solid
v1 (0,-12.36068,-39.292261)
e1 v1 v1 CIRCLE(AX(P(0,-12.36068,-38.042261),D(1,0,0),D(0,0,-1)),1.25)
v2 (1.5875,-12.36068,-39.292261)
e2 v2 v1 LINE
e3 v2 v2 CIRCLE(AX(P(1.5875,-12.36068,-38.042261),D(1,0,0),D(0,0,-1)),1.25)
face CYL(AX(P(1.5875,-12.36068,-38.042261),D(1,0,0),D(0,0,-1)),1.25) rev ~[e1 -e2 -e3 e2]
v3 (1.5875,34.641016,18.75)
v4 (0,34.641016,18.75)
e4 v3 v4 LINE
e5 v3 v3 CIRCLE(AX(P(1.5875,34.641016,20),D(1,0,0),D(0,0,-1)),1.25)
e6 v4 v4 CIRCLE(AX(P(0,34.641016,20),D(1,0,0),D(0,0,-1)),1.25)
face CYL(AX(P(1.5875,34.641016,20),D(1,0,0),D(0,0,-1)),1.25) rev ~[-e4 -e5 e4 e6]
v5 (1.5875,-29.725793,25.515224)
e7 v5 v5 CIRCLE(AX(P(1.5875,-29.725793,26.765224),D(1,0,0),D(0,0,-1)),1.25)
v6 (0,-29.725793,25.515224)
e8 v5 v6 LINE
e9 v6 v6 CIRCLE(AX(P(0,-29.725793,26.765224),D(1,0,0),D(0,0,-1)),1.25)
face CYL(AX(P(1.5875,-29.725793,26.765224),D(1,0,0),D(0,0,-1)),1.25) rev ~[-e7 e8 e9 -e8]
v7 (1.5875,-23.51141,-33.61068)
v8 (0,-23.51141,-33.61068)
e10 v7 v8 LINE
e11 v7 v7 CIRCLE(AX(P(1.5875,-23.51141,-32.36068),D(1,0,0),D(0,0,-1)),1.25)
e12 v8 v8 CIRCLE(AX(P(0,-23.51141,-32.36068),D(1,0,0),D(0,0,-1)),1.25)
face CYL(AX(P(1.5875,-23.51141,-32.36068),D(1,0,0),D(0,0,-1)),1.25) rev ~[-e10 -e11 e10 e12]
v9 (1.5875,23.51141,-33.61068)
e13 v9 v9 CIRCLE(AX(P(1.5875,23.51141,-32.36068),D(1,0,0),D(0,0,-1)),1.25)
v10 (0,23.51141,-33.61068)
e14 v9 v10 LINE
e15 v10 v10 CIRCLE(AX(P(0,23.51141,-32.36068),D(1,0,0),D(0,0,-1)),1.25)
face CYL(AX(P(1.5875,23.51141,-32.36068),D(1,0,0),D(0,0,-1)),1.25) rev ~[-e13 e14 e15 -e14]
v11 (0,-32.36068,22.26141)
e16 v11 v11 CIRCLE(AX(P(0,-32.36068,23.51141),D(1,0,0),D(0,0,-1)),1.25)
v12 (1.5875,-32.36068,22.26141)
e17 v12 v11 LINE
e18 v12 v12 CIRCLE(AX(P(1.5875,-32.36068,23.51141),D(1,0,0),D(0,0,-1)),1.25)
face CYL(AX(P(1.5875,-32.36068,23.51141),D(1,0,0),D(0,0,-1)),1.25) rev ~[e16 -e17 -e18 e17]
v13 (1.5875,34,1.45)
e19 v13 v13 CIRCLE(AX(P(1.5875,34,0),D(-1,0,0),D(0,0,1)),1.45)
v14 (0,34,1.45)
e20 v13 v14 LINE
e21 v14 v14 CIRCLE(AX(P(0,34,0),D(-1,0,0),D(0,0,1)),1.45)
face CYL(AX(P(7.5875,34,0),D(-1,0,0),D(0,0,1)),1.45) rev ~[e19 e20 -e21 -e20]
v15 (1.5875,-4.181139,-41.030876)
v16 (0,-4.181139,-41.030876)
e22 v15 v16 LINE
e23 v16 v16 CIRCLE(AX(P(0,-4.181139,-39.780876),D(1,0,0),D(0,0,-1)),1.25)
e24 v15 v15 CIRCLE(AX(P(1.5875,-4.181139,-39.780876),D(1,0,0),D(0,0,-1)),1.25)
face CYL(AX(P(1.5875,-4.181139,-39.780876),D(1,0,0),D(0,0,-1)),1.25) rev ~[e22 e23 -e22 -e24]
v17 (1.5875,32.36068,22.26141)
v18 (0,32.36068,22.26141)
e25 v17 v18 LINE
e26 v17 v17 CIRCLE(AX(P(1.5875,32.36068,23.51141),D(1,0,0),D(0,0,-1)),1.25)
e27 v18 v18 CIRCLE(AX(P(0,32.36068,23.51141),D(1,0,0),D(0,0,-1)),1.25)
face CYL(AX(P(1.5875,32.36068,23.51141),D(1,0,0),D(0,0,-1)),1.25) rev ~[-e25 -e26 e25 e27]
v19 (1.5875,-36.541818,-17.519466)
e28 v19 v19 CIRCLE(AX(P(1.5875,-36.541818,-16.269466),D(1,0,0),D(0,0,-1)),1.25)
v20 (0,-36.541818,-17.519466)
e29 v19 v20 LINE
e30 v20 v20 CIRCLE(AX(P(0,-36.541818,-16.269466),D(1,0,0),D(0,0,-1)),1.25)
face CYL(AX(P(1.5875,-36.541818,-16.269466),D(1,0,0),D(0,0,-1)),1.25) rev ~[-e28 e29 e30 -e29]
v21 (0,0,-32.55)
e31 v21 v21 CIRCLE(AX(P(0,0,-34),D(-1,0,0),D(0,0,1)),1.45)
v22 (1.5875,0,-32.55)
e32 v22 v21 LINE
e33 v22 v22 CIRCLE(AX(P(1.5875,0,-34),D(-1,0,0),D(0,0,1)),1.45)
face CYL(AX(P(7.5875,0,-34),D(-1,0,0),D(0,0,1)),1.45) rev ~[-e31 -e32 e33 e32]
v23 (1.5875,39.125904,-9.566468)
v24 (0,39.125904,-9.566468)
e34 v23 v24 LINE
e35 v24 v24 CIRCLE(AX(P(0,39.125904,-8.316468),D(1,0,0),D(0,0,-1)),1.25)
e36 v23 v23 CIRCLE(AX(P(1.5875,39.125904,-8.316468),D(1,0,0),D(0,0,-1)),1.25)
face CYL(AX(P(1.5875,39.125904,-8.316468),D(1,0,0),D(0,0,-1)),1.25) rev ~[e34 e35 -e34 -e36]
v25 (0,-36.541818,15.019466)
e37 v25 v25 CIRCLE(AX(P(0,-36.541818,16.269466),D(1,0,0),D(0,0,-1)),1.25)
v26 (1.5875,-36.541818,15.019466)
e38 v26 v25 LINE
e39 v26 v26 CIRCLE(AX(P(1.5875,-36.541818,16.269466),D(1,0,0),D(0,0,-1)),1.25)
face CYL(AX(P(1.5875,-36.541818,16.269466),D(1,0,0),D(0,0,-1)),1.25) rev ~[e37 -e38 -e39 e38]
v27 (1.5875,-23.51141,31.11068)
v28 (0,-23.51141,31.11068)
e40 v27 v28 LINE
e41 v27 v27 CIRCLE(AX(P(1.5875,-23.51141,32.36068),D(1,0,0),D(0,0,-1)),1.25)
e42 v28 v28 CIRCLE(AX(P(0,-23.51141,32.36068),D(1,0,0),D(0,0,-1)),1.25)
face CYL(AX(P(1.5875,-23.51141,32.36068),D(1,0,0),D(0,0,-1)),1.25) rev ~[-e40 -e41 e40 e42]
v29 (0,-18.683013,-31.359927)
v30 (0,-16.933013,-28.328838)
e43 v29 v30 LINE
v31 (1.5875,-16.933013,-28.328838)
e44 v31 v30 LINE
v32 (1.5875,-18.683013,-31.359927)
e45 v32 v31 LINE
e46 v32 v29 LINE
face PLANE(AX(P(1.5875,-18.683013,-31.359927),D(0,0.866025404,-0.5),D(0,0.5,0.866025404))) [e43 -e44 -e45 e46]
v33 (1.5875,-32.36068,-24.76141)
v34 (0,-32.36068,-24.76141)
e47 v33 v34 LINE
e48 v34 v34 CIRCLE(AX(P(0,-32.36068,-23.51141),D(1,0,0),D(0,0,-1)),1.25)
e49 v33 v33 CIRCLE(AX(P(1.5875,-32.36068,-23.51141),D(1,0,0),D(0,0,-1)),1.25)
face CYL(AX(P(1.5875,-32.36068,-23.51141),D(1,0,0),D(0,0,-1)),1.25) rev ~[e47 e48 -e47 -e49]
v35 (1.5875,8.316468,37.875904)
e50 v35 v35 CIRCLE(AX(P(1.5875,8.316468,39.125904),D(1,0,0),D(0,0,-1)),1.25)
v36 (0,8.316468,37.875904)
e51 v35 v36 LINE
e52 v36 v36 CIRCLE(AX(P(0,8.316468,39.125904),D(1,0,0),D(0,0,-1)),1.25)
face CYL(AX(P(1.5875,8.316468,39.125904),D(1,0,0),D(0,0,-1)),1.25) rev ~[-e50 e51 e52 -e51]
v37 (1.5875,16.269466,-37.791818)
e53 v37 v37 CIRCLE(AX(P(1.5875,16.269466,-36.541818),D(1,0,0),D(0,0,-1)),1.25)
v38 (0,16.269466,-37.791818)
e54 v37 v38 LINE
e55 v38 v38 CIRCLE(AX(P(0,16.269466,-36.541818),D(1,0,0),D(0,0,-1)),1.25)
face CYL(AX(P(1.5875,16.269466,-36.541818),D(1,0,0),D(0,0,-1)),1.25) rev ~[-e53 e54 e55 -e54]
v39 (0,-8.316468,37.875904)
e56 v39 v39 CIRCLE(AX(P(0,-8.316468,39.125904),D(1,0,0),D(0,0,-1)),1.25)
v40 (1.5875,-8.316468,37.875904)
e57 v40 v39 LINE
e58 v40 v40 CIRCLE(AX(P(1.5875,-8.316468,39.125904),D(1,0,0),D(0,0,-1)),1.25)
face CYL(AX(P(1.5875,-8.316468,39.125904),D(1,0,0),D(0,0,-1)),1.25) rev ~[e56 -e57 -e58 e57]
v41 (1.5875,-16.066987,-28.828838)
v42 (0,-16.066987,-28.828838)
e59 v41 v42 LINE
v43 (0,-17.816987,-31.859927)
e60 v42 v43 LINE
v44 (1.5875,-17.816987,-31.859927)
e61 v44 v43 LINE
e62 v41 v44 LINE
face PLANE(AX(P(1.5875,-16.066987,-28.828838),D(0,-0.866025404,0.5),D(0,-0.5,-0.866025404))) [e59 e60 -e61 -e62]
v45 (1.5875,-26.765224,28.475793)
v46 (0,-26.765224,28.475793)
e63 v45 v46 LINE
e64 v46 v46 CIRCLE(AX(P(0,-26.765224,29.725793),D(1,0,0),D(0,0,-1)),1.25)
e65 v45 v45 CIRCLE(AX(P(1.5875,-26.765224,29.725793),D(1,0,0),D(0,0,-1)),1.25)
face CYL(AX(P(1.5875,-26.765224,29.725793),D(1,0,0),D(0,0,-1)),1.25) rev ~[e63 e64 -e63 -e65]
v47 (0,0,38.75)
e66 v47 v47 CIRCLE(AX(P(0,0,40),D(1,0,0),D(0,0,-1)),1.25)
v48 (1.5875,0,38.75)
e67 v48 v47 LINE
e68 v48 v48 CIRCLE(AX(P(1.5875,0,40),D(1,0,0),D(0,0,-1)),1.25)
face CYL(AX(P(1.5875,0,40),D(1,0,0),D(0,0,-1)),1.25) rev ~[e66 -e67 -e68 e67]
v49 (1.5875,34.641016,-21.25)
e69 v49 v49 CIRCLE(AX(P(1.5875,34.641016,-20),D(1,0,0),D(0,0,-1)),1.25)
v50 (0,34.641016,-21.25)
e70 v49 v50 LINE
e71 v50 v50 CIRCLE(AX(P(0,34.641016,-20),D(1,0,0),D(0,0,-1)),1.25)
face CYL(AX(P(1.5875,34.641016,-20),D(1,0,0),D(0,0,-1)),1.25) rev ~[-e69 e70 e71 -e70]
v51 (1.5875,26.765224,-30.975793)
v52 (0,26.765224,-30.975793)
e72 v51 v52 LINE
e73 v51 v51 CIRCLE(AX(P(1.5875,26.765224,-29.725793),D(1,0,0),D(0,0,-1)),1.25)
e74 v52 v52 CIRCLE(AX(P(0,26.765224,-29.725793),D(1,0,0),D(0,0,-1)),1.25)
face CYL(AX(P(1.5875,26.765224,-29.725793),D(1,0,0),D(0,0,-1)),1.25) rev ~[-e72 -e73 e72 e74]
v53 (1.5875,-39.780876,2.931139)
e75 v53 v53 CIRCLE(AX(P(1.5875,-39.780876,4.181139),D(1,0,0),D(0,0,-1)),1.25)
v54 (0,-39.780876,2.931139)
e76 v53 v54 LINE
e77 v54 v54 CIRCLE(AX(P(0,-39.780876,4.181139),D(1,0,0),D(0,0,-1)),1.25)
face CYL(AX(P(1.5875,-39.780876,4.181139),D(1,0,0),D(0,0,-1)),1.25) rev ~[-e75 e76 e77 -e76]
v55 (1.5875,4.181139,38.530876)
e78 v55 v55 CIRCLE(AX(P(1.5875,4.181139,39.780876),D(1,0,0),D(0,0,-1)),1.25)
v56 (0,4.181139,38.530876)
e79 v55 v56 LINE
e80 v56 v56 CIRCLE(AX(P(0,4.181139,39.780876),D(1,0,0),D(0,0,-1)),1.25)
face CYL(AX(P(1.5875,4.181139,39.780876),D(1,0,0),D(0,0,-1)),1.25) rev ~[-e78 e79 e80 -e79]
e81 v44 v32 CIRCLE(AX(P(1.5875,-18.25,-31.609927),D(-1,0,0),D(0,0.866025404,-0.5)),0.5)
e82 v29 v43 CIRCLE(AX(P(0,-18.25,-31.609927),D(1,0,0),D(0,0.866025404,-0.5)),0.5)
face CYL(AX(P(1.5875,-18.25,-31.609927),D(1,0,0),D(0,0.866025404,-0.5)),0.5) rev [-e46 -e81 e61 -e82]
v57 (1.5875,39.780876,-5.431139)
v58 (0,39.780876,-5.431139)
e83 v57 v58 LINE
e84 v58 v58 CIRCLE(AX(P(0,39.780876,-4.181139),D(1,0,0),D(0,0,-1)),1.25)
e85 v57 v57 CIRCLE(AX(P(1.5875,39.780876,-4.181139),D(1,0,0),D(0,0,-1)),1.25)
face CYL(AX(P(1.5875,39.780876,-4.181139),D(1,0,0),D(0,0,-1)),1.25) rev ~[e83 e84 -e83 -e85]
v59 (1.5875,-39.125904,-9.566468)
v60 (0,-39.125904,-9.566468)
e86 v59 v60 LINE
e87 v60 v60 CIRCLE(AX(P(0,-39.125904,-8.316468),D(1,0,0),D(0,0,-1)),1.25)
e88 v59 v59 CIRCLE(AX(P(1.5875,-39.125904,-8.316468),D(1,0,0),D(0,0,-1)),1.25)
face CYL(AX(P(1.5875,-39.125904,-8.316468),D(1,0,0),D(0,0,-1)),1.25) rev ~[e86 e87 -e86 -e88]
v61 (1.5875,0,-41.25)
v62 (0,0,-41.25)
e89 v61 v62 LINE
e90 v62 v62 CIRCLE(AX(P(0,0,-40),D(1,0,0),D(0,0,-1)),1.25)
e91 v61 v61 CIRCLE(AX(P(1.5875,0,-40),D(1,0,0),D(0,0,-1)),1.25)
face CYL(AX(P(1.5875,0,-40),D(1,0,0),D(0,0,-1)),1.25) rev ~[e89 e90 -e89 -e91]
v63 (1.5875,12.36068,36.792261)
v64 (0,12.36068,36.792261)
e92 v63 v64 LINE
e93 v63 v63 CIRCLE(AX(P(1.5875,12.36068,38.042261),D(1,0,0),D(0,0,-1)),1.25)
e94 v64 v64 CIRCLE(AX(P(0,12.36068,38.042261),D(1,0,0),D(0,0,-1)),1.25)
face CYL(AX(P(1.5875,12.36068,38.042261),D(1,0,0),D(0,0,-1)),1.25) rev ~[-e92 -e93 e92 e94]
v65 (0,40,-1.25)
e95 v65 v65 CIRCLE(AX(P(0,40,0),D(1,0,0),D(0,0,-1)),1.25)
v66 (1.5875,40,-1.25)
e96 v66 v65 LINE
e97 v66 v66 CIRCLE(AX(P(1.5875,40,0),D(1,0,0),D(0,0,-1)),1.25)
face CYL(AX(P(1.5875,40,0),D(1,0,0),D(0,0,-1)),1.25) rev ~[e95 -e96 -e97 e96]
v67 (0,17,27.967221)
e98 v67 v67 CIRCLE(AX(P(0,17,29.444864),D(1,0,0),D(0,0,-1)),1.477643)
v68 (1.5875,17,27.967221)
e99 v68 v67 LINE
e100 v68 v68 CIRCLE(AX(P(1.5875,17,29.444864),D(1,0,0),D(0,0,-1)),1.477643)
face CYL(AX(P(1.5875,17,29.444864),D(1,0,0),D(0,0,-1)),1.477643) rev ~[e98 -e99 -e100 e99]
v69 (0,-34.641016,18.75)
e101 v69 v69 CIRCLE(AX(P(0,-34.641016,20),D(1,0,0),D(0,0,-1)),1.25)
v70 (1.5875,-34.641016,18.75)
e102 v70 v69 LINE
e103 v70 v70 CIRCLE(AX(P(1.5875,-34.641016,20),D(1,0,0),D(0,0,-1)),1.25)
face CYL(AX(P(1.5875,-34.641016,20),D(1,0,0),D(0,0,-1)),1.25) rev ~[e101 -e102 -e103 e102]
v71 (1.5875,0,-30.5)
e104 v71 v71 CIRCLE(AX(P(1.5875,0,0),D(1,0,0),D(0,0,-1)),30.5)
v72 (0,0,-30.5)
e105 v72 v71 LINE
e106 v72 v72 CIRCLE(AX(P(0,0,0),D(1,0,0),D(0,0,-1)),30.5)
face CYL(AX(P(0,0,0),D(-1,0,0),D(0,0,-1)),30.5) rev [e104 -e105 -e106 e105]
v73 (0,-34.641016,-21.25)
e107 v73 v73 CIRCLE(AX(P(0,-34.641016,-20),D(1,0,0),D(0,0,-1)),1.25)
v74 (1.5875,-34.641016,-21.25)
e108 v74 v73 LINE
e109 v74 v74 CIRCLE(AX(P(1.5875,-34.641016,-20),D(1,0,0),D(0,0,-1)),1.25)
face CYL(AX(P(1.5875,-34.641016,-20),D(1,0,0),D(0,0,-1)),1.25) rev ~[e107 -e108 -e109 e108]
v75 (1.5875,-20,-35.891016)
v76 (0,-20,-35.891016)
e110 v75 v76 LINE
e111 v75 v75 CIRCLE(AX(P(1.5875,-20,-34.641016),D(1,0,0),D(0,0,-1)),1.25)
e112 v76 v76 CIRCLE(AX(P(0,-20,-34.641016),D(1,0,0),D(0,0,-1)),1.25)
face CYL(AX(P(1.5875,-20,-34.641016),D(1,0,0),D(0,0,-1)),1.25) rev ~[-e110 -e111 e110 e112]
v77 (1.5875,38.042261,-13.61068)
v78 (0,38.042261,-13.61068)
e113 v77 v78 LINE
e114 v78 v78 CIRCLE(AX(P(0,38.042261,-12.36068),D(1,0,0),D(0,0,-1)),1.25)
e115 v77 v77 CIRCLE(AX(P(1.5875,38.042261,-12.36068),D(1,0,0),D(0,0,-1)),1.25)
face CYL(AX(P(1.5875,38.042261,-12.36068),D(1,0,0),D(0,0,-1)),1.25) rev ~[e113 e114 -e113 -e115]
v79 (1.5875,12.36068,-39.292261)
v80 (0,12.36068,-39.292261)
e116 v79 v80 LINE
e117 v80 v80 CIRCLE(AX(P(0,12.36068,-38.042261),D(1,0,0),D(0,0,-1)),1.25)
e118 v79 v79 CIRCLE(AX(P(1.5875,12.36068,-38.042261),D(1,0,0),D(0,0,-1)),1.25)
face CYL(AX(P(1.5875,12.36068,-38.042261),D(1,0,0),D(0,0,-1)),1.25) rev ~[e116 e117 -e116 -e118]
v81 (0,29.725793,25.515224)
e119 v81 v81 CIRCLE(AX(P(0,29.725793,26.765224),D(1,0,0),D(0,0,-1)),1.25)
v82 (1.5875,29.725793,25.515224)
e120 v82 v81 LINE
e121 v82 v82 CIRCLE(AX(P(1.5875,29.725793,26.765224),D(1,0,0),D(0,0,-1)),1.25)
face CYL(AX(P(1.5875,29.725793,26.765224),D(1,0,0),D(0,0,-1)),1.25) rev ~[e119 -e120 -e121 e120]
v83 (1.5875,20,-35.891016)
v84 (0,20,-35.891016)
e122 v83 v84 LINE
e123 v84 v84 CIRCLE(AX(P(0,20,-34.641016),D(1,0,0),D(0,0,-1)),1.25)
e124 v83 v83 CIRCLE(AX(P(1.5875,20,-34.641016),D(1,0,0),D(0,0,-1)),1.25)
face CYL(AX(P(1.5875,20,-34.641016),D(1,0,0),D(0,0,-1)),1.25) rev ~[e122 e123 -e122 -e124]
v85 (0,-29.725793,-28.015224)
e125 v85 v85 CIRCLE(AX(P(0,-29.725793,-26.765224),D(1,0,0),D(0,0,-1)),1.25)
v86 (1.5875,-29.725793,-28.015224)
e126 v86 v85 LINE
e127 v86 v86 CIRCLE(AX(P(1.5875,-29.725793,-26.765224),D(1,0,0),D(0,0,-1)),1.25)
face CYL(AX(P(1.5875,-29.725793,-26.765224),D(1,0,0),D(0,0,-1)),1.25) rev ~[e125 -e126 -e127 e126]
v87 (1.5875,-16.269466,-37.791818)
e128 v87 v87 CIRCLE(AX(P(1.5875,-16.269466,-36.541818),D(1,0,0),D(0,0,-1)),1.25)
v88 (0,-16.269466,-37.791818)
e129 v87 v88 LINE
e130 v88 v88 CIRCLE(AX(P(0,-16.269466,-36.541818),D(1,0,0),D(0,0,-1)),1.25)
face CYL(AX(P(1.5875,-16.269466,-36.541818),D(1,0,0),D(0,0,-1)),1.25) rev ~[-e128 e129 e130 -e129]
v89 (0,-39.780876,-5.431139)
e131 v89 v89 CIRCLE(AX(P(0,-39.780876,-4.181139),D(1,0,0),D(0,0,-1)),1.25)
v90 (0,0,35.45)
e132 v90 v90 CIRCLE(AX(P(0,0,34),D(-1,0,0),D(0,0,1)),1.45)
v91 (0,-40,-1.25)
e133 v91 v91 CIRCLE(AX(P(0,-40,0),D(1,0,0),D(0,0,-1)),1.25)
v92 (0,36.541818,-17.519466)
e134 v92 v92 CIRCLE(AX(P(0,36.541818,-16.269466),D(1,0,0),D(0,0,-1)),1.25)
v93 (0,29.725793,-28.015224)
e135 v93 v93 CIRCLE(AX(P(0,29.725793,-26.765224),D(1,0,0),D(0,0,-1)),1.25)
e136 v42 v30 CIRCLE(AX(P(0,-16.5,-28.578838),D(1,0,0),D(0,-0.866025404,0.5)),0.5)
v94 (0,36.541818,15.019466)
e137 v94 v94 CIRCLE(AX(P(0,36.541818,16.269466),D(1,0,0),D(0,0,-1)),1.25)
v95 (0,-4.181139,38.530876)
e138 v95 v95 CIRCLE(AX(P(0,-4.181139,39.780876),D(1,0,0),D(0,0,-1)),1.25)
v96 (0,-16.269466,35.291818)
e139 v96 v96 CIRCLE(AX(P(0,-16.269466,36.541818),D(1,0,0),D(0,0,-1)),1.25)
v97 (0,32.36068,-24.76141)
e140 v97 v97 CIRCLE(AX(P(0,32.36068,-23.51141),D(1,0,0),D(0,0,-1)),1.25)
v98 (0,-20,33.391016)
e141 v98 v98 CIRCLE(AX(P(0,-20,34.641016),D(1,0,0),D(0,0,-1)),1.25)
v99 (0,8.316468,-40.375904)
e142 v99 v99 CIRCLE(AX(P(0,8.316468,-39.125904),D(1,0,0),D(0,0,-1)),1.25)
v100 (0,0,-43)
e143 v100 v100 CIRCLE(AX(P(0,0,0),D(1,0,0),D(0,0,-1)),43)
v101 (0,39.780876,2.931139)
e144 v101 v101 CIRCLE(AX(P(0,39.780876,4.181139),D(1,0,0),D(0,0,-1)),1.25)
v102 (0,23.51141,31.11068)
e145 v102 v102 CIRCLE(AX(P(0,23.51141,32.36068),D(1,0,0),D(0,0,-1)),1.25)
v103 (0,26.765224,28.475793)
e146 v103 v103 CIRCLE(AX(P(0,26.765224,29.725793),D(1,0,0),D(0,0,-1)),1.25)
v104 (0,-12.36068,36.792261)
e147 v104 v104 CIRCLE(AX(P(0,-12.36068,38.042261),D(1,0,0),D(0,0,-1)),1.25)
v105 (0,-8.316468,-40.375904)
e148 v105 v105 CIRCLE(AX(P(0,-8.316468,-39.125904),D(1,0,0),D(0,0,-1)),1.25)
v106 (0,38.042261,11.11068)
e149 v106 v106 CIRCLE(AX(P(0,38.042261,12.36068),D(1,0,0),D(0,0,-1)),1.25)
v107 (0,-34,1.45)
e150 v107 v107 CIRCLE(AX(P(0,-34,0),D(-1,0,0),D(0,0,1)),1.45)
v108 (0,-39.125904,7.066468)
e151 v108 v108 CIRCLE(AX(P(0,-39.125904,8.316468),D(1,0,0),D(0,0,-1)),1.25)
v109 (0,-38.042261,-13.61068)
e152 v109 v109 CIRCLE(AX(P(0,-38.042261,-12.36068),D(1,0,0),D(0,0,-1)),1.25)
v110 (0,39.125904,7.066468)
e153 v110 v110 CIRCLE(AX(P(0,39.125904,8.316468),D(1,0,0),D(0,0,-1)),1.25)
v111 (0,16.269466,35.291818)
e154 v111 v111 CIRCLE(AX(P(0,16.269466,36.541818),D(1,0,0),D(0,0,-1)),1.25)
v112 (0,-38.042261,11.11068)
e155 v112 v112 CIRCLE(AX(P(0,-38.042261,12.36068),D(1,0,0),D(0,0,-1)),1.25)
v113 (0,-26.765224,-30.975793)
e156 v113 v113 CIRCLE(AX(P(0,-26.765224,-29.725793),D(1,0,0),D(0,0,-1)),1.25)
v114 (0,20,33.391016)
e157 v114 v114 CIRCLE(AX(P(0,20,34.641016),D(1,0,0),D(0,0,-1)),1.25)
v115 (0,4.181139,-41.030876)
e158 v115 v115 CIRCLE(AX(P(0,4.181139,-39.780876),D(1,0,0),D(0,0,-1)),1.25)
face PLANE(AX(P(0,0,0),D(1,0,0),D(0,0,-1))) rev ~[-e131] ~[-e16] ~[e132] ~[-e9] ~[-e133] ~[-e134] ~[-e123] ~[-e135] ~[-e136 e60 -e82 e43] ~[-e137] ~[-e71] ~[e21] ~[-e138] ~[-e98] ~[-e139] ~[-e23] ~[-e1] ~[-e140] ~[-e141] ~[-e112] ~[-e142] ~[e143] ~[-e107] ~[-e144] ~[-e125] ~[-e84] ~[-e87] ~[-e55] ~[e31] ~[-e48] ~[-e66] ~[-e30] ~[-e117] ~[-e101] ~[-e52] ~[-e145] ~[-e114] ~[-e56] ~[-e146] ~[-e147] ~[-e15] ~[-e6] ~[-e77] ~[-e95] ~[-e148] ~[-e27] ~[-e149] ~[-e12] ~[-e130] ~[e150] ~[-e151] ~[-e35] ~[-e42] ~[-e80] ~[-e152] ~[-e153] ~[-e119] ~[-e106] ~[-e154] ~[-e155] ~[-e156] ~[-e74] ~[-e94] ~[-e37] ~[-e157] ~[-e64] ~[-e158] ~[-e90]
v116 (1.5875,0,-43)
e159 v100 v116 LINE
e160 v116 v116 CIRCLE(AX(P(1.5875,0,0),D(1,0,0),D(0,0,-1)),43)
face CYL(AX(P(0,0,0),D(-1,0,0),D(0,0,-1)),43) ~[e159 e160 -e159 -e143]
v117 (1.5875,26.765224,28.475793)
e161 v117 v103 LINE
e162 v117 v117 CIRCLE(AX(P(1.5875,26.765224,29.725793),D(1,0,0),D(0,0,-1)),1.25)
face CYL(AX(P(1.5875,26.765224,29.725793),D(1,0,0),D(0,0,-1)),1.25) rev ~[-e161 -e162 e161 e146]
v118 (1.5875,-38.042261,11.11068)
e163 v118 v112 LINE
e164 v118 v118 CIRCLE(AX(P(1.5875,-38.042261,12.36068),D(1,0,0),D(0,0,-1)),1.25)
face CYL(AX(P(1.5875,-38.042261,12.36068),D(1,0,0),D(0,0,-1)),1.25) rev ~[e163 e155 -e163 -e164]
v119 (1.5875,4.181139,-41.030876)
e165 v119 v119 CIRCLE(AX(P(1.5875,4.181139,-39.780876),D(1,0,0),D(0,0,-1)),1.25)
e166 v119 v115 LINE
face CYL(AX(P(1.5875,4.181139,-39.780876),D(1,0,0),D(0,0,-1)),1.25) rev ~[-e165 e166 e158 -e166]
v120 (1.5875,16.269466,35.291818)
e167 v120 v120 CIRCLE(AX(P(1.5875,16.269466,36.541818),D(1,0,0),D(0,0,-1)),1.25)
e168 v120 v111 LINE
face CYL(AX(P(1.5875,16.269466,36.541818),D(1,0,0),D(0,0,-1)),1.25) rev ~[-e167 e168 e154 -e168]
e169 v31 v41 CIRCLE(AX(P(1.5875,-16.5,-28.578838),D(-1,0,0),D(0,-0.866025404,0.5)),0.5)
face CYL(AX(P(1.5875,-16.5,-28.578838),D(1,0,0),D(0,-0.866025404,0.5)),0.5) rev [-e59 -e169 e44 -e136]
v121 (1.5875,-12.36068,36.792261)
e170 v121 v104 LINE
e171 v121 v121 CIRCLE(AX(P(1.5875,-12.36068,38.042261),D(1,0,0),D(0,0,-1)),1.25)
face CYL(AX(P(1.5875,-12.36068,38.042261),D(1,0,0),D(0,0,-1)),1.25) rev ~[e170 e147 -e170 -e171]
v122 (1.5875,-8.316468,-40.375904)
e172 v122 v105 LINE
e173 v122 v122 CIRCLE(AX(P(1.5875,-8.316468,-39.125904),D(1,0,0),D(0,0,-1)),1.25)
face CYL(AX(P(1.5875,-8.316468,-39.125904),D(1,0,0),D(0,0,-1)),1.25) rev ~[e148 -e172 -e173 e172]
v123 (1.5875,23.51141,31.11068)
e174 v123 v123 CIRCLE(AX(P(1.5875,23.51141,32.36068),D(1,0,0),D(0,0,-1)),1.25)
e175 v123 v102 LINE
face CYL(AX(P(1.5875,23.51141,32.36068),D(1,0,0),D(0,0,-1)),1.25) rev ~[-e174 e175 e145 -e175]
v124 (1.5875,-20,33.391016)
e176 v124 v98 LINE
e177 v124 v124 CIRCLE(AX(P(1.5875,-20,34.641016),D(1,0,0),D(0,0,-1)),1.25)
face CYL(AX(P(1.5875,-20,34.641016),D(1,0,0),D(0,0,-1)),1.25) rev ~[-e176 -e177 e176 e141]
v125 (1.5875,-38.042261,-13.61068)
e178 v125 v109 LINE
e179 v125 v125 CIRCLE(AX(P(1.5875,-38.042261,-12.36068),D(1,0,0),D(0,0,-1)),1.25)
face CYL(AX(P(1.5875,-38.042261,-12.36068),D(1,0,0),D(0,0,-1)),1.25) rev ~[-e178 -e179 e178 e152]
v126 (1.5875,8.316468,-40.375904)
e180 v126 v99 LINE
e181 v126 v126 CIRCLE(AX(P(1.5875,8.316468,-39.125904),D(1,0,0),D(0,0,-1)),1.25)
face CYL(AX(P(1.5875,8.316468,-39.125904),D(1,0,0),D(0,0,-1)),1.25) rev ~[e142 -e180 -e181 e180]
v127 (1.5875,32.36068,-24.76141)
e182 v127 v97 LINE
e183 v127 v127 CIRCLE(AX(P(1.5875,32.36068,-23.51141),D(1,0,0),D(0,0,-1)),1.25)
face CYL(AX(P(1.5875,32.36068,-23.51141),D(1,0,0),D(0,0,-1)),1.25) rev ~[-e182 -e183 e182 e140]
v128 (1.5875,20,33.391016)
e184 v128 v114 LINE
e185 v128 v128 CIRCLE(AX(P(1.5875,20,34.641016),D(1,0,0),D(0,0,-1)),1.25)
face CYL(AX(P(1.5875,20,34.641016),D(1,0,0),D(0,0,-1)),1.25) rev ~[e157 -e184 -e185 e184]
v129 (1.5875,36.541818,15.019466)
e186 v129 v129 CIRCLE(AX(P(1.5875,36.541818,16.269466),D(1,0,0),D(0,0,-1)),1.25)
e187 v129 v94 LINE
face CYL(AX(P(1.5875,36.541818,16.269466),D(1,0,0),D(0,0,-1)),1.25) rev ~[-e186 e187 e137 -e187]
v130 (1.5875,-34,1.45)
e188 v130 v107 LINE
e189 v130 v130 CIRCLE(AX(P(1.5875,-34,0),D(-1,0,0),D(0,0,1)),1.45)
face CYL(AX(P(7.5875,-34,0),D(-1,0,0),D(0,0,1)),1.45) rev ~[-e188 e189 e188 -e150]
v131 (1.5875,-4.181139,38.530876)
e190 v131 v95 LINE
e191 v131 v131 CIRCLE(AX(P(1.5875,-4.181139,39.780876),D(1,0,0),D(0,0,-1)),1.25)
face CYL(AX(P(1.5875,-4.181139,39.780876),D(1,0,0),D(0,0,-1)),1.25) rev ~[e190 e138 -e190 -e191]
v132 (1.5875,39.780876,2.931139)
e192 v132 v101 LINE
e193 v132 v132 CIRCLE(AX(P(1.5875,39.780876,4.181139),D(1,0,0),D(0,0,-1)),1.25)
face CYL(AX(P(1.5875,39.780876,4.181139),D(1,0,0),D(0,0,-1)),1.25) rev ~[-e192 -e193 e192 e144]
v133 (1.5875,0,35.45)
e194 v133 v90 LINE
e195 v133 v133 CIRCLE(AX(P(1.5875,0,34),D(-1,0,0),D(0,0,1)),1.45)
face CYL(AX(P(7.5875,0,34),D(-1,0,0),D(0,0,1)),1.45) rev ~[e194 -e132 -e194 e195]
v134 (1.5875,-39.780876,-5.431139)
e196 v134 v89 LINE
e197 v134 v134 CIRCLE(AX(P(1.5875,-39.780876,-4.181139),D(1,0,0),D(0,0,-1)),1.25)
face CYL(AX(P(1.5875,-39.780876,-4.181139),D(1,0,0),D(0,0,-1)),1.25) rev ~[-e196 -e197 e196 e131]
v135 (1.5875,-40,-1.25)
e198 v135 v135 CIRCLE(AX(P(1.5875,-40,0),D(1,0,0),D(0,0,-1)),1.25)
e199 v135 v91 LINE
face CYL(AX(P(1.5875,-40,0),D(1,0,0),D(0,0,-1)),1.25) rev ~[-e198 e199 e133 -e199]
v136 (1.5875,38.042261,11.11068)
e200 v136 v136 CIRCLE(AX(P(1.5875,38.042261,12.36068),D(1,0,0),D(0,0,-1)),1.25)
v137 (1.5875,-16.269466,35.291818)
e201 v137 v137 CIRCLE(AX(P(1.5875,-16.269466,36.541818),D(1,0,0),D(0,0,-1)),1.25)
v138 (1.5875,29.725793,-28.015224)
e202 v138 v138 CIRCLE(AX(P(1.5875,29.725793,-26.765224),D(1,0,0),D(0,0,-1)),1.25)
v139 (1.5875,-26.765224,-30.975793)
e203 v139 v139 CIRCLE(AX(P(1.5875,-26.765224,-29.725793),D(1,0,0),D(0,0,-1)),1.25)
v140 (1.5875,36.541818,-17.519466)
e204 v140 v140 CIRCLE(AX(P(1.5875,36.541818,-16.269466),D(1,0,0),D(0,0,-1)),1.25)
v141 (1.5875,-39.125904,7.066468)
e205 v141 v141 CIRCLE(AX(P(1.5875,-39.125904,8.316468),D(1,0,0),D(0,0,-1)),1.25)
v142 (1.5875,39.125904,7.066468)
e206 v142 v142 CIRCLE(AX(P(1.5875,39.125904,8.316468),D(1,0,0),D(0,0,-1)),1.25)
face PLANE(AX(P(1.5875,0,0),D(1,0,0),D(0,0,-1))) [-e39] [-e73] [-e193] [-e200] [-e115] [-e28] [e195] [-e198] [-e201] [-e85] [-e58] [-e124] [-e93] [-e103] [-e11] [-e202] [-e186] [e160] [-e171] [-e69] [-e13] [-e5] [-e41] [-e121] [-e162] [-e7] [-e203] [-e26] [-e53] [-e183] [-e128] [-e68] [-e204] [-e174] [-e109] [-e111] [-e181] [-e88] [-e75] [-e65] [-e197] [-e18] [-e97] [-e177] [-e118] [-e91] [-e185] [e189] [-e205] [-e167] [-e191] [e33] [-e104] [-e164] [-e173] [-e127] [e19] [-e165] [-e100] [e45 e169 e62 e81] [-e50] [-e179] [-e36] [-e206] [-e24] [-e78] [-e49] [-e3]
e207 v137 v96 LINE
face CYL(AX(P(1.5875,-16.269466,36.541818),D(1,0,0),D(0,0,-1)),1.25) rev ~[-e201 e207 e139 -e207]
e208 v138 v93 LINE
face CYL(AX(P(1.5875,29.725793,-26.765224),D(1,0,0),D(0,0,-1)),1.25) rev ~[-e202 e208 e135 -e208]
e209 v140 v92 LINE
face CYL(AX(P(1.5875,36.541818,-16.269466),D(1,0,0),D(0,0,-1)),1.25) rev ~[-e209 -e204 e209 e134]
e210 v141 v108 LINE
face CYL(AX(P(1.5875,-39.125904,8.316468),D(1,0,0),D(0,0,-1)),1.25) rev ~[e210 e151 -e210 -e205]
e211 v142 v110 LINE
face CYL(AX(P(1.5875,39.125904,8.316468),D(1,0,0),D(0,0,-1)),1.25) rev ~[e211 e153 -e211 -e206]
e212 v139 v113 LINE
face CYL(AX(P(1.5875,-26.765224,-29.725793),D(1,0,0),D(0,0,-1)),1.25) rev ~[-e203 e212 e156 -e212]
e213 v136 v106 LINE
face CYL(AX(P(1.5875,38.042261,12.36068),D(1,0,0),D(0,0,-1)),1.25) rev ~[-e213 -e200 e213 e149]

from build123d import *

# Parameters (mm, degrees)
SKETCH1_R                  = 43
SKETCH1_R_2                = 30.5
BOSS_EXTRUDE1_DEPTH        = 1.5875
SKETCH2_R                  = 1.25
SKETCH2_R_2                = 1.477643217
CUT_EXTRUDE1_DEPTH         = 2.5875
M2_5_CLEARANCE_HOLE1_D     = 2.9
M2_5_CLEARANCE_HOLE1_DEPTH = 6
M2_5_CLEARANCE_HOLE1_TIP   = 0.871247898
CUT_EXTRUDE2_DEPTH         = 2.5875


with BuildPart() as part:
    # Sketch1 → Boss-Extrude1 (new body)
    with BuildSketch(Plane(origin=(0, 0, 0), x_dir=(0, 0, -1), z_dir=(1, 0, 0))):
        Circle(SKETCH1_R)
        Circle(SKETCH1_R_2, mode=Mode.SUBTRACT)
    extrude(amount=BOSS_EXTRUDE1_DEPTH)

    # Sketch2 → Cut-Extrude1 (cut, through all)
    with BuildSketch(Plane(origin=(1.5875, 0, 0), x_dir=(0, 0, -1), z_dir=(1, 0, 0))):
        with Locations((0, 40)):
            Circle(SKETCH2_R)
        with Locations((4.181138531, 39.780875815)):
            Circle(SKETCH2_R)
        with Locations((8.316467633, 39.125904029)):
            Circle(SKETCH2_R)
        with Locations((12.360679775, 38.042260652)):
            Circle(SKETCH2_R)
        with Locations((16.269465723, 36.541818306)):
            Circle(SKETCH2_R)
        with Locations((20, 34.641016151)):
            Circle(SKETCH2_R)
        with Locations((23.511410092, 32.360679775)):
            Circle(SKETCH2_R)
        with Locations((26.765224254, 29.725793019)):
            Circle(SKETCH2_R)
        with Locations((29.725793019, 26.765224254)):
            Circle(SKETCH2_R)
        with Locations((32.360679775, 23.511410092)):
            Circle(SKETCH2_R)
        with Locations((34.641016151, 20)):
            Circle(SKETCH2_R)
        with Locations((36.541818306, 16.269465723)):
            Circle(SKETCH2_R)
        with Locations((38.042260652, 12.360679775)):
            Circle(SKETCH2_R)
        with Locations((39.125904029, 8.316467633)):
            Circle(SKETCH2_R)
        with Locations((39.780875815, 4.181138531)):
            Circle(SKETCH2_R)
        with Locations((40, 0)):
            Circle(SKETCH2_R)
        with Locations((39.780875815, -4.181138531)):
            Circle(SKETCH2_R)
        with Locations((39.125904029, -8.316467633)):
            Circle(SKETCH2_R)
        with Locations((38.042260652, -12.360679775)):
            Circle(SKETCH2_R)
        with Locations((36.541818306, -16.269465723)):
            Circle(SKETCH2_R)
        with Locations((34.641016151, -20)):
            Circle(SKETCH2_R)
        with Locations((32.360679775, -23.511410092)):
            Circle(SKETCH2_R)
        with Locations((29.725793019, -26.765224254)):
            Circle(SKETCH2_R)
        with Locations((26.765224254, -29.725793019)):
            Circle(SKETCH2_R)
        with Locations((23.511410092, -32.360679775)):
            Circle(SKETCH2_R)
        with Locations((20, -34.641016151)):
            Circle(SKETCH2_R)
        with Locations((16.269465723, -36.541818306)):
            Circle(SKETCH2_R)
        with Locations((12.360679775, -38.042260652)):
            Circle(SKETCH2_R)
        with Locations((8.316467633, -39.125904029)):
            Circle(SKETCH2_R)
        with Locations((4.181138531, -39.780875815)):
            Circle(SKETCH2_R)
        with Locations((0, -40)):
            Circle(SKETCH2_R)
        with Locations((-4.181138531, -39.780875815)):
            Circle(SKETCH2_R)
        with Locations((-8.316467633, -39.125904029)):
            Circle(SKETCH2_R)
        with Locations((-12.360679775, -38.042260652)):
            Circle(SKETCH2_R)
        with Locations((-16.269465723, -36.541818306)):
            Circle(SKETCH2_R)
        with Locations((-20, -34.641016151)):
            Circle(SKETCH2_R)
        with Locations((-23.511410092, -32.360679775)):
            Circle(SKETCH2_R)
        with Locations((-26.765224254, -29.725793019)):
            Circle(SKETCH2_R)
        with Locations((-29.725793019, -26.765224254)):
            Circle(SKETCH2_R)
        with Locations((-32.360679775, -23.511410092)):
            Circle(SKETCH2_R)
        with Locations((-34.641016151, -20)):
            Circle(SKETCH2_R)
        with Locations((-36.541818306, -16.269465723)):
            Circle(SKETCH2_R)
        with Locations((-38.042260652, -12.360679775)):
            Circle(SKETCH2_R)
        with Locations((-39.125904029, -8.316467633)):
            Circle(SKETCH2_R)
        with Locations((-39.780875815, -4.181138531)):
            Circle(SKETCH2_R)
        with Locations((-40, 0)):
            Circle(SKETCH2_R)
        with Locations((-39.780875815, 4.181138531)):
            Circle(SKETCH2_R)
        with Locations((-39.125904029, 8.316467633)):
            Circle(SKETCH2_R)
        with Locations((-38.042260652, 12.360679775)):
            Circle(SKETCH2_R)
        with Locations((-36.541818306, 16.269465723)):
            Circle(SKETCH2_R)
        with Locations((-34.641016151, 20)):
            Circle(SKETCH2_R)
        with Locations((-32.360679775, 23.511410092)):
            Circle(SKETCH2_R)
        with Locations((-29.725793019, 26.765224254)):
            Circle(SKETCH2_R)
        with Locations((-26.765224254, 29.725793019)):
            Circle(SKETCH2_R)
        with Locations((-23.511410092, 32.360679775)):
            Circle(SKETCH2_R)
        with Locations((-20, 34.641016151)):
            Circle(SKETCH2_R)
        with Locations((-16.269465723, 36.541818306)):
            Circle(SKETCH2_R)
        with Locations((-12.360679775, 38.042260652)):
            Circle(SKETCH2_R)
        with Locations((-8.316467633, 39.125904029)):
            Circle(SKETCH2_R)
        with Locations((-4.181138531, 39.780875815)):
            Circle(SKETCH2_R)
        with Locations((-29.444863729, 17)):
            Circle(SKETCH2_R_2)
    extrude(amount=-CUT_EXTRUDE1_DEPTH, mode=Mode.SUBTRACT)

    # M2.5 Clearance Hole1
    with Locations(Plane(origin=(1.5875, 0, 0), x_dir=(0, 0, -1), z_dir=(1, 0, 0))):
        with Locations((0, 34), (-34, 0), (34, 0), (0, -34)):
            Hole(M2_5_CLEARANCE_HOLE1_D / 2, depth=M2_5_CLEARANCE_HOLE1_DEPTH)
            with Locations((0, 0, -(M2_5_CLEARANCE_HOLE1_DEPTH + M2_5_CLEARANCE_HOLE1_TIP / 2))):  # 118° drill point
                Cone(0, M2_5_CLEARANCE_HOLE1_D / 2, M2_5_CLEARANCE_HOLE1_TIP, mode=Mode.SUBTRACT)

    # Sketch6 → Cut-Extrude2 (cut, through all)
    with BuildSketch(Plane(origin=(1.5875, 0, 0), x_dir=(0, 0, -1), z_dir=(1, 0, 0))):
        with BuildLine():
            Line((28.828838325, -16.066987298), (31.859927238, -17.816987298))
            ThreePointArc((31.859927238, -17.816987298), (32.04293994, -18.5), (31.359927238, -18.683012702))
            Line((31.359927238, -18.683012702), (28.328838325, -16.933012702))
            ThreePointArc((28.328838325, -16.933012702), (28.145825623, -16.25), (28.828838325, -16.066987298))
        make_face()
    extrude(amount=-CUT_EXTRUDE2_DEPTH, mode=Mode.SUBTRACT)


solid = part.part
